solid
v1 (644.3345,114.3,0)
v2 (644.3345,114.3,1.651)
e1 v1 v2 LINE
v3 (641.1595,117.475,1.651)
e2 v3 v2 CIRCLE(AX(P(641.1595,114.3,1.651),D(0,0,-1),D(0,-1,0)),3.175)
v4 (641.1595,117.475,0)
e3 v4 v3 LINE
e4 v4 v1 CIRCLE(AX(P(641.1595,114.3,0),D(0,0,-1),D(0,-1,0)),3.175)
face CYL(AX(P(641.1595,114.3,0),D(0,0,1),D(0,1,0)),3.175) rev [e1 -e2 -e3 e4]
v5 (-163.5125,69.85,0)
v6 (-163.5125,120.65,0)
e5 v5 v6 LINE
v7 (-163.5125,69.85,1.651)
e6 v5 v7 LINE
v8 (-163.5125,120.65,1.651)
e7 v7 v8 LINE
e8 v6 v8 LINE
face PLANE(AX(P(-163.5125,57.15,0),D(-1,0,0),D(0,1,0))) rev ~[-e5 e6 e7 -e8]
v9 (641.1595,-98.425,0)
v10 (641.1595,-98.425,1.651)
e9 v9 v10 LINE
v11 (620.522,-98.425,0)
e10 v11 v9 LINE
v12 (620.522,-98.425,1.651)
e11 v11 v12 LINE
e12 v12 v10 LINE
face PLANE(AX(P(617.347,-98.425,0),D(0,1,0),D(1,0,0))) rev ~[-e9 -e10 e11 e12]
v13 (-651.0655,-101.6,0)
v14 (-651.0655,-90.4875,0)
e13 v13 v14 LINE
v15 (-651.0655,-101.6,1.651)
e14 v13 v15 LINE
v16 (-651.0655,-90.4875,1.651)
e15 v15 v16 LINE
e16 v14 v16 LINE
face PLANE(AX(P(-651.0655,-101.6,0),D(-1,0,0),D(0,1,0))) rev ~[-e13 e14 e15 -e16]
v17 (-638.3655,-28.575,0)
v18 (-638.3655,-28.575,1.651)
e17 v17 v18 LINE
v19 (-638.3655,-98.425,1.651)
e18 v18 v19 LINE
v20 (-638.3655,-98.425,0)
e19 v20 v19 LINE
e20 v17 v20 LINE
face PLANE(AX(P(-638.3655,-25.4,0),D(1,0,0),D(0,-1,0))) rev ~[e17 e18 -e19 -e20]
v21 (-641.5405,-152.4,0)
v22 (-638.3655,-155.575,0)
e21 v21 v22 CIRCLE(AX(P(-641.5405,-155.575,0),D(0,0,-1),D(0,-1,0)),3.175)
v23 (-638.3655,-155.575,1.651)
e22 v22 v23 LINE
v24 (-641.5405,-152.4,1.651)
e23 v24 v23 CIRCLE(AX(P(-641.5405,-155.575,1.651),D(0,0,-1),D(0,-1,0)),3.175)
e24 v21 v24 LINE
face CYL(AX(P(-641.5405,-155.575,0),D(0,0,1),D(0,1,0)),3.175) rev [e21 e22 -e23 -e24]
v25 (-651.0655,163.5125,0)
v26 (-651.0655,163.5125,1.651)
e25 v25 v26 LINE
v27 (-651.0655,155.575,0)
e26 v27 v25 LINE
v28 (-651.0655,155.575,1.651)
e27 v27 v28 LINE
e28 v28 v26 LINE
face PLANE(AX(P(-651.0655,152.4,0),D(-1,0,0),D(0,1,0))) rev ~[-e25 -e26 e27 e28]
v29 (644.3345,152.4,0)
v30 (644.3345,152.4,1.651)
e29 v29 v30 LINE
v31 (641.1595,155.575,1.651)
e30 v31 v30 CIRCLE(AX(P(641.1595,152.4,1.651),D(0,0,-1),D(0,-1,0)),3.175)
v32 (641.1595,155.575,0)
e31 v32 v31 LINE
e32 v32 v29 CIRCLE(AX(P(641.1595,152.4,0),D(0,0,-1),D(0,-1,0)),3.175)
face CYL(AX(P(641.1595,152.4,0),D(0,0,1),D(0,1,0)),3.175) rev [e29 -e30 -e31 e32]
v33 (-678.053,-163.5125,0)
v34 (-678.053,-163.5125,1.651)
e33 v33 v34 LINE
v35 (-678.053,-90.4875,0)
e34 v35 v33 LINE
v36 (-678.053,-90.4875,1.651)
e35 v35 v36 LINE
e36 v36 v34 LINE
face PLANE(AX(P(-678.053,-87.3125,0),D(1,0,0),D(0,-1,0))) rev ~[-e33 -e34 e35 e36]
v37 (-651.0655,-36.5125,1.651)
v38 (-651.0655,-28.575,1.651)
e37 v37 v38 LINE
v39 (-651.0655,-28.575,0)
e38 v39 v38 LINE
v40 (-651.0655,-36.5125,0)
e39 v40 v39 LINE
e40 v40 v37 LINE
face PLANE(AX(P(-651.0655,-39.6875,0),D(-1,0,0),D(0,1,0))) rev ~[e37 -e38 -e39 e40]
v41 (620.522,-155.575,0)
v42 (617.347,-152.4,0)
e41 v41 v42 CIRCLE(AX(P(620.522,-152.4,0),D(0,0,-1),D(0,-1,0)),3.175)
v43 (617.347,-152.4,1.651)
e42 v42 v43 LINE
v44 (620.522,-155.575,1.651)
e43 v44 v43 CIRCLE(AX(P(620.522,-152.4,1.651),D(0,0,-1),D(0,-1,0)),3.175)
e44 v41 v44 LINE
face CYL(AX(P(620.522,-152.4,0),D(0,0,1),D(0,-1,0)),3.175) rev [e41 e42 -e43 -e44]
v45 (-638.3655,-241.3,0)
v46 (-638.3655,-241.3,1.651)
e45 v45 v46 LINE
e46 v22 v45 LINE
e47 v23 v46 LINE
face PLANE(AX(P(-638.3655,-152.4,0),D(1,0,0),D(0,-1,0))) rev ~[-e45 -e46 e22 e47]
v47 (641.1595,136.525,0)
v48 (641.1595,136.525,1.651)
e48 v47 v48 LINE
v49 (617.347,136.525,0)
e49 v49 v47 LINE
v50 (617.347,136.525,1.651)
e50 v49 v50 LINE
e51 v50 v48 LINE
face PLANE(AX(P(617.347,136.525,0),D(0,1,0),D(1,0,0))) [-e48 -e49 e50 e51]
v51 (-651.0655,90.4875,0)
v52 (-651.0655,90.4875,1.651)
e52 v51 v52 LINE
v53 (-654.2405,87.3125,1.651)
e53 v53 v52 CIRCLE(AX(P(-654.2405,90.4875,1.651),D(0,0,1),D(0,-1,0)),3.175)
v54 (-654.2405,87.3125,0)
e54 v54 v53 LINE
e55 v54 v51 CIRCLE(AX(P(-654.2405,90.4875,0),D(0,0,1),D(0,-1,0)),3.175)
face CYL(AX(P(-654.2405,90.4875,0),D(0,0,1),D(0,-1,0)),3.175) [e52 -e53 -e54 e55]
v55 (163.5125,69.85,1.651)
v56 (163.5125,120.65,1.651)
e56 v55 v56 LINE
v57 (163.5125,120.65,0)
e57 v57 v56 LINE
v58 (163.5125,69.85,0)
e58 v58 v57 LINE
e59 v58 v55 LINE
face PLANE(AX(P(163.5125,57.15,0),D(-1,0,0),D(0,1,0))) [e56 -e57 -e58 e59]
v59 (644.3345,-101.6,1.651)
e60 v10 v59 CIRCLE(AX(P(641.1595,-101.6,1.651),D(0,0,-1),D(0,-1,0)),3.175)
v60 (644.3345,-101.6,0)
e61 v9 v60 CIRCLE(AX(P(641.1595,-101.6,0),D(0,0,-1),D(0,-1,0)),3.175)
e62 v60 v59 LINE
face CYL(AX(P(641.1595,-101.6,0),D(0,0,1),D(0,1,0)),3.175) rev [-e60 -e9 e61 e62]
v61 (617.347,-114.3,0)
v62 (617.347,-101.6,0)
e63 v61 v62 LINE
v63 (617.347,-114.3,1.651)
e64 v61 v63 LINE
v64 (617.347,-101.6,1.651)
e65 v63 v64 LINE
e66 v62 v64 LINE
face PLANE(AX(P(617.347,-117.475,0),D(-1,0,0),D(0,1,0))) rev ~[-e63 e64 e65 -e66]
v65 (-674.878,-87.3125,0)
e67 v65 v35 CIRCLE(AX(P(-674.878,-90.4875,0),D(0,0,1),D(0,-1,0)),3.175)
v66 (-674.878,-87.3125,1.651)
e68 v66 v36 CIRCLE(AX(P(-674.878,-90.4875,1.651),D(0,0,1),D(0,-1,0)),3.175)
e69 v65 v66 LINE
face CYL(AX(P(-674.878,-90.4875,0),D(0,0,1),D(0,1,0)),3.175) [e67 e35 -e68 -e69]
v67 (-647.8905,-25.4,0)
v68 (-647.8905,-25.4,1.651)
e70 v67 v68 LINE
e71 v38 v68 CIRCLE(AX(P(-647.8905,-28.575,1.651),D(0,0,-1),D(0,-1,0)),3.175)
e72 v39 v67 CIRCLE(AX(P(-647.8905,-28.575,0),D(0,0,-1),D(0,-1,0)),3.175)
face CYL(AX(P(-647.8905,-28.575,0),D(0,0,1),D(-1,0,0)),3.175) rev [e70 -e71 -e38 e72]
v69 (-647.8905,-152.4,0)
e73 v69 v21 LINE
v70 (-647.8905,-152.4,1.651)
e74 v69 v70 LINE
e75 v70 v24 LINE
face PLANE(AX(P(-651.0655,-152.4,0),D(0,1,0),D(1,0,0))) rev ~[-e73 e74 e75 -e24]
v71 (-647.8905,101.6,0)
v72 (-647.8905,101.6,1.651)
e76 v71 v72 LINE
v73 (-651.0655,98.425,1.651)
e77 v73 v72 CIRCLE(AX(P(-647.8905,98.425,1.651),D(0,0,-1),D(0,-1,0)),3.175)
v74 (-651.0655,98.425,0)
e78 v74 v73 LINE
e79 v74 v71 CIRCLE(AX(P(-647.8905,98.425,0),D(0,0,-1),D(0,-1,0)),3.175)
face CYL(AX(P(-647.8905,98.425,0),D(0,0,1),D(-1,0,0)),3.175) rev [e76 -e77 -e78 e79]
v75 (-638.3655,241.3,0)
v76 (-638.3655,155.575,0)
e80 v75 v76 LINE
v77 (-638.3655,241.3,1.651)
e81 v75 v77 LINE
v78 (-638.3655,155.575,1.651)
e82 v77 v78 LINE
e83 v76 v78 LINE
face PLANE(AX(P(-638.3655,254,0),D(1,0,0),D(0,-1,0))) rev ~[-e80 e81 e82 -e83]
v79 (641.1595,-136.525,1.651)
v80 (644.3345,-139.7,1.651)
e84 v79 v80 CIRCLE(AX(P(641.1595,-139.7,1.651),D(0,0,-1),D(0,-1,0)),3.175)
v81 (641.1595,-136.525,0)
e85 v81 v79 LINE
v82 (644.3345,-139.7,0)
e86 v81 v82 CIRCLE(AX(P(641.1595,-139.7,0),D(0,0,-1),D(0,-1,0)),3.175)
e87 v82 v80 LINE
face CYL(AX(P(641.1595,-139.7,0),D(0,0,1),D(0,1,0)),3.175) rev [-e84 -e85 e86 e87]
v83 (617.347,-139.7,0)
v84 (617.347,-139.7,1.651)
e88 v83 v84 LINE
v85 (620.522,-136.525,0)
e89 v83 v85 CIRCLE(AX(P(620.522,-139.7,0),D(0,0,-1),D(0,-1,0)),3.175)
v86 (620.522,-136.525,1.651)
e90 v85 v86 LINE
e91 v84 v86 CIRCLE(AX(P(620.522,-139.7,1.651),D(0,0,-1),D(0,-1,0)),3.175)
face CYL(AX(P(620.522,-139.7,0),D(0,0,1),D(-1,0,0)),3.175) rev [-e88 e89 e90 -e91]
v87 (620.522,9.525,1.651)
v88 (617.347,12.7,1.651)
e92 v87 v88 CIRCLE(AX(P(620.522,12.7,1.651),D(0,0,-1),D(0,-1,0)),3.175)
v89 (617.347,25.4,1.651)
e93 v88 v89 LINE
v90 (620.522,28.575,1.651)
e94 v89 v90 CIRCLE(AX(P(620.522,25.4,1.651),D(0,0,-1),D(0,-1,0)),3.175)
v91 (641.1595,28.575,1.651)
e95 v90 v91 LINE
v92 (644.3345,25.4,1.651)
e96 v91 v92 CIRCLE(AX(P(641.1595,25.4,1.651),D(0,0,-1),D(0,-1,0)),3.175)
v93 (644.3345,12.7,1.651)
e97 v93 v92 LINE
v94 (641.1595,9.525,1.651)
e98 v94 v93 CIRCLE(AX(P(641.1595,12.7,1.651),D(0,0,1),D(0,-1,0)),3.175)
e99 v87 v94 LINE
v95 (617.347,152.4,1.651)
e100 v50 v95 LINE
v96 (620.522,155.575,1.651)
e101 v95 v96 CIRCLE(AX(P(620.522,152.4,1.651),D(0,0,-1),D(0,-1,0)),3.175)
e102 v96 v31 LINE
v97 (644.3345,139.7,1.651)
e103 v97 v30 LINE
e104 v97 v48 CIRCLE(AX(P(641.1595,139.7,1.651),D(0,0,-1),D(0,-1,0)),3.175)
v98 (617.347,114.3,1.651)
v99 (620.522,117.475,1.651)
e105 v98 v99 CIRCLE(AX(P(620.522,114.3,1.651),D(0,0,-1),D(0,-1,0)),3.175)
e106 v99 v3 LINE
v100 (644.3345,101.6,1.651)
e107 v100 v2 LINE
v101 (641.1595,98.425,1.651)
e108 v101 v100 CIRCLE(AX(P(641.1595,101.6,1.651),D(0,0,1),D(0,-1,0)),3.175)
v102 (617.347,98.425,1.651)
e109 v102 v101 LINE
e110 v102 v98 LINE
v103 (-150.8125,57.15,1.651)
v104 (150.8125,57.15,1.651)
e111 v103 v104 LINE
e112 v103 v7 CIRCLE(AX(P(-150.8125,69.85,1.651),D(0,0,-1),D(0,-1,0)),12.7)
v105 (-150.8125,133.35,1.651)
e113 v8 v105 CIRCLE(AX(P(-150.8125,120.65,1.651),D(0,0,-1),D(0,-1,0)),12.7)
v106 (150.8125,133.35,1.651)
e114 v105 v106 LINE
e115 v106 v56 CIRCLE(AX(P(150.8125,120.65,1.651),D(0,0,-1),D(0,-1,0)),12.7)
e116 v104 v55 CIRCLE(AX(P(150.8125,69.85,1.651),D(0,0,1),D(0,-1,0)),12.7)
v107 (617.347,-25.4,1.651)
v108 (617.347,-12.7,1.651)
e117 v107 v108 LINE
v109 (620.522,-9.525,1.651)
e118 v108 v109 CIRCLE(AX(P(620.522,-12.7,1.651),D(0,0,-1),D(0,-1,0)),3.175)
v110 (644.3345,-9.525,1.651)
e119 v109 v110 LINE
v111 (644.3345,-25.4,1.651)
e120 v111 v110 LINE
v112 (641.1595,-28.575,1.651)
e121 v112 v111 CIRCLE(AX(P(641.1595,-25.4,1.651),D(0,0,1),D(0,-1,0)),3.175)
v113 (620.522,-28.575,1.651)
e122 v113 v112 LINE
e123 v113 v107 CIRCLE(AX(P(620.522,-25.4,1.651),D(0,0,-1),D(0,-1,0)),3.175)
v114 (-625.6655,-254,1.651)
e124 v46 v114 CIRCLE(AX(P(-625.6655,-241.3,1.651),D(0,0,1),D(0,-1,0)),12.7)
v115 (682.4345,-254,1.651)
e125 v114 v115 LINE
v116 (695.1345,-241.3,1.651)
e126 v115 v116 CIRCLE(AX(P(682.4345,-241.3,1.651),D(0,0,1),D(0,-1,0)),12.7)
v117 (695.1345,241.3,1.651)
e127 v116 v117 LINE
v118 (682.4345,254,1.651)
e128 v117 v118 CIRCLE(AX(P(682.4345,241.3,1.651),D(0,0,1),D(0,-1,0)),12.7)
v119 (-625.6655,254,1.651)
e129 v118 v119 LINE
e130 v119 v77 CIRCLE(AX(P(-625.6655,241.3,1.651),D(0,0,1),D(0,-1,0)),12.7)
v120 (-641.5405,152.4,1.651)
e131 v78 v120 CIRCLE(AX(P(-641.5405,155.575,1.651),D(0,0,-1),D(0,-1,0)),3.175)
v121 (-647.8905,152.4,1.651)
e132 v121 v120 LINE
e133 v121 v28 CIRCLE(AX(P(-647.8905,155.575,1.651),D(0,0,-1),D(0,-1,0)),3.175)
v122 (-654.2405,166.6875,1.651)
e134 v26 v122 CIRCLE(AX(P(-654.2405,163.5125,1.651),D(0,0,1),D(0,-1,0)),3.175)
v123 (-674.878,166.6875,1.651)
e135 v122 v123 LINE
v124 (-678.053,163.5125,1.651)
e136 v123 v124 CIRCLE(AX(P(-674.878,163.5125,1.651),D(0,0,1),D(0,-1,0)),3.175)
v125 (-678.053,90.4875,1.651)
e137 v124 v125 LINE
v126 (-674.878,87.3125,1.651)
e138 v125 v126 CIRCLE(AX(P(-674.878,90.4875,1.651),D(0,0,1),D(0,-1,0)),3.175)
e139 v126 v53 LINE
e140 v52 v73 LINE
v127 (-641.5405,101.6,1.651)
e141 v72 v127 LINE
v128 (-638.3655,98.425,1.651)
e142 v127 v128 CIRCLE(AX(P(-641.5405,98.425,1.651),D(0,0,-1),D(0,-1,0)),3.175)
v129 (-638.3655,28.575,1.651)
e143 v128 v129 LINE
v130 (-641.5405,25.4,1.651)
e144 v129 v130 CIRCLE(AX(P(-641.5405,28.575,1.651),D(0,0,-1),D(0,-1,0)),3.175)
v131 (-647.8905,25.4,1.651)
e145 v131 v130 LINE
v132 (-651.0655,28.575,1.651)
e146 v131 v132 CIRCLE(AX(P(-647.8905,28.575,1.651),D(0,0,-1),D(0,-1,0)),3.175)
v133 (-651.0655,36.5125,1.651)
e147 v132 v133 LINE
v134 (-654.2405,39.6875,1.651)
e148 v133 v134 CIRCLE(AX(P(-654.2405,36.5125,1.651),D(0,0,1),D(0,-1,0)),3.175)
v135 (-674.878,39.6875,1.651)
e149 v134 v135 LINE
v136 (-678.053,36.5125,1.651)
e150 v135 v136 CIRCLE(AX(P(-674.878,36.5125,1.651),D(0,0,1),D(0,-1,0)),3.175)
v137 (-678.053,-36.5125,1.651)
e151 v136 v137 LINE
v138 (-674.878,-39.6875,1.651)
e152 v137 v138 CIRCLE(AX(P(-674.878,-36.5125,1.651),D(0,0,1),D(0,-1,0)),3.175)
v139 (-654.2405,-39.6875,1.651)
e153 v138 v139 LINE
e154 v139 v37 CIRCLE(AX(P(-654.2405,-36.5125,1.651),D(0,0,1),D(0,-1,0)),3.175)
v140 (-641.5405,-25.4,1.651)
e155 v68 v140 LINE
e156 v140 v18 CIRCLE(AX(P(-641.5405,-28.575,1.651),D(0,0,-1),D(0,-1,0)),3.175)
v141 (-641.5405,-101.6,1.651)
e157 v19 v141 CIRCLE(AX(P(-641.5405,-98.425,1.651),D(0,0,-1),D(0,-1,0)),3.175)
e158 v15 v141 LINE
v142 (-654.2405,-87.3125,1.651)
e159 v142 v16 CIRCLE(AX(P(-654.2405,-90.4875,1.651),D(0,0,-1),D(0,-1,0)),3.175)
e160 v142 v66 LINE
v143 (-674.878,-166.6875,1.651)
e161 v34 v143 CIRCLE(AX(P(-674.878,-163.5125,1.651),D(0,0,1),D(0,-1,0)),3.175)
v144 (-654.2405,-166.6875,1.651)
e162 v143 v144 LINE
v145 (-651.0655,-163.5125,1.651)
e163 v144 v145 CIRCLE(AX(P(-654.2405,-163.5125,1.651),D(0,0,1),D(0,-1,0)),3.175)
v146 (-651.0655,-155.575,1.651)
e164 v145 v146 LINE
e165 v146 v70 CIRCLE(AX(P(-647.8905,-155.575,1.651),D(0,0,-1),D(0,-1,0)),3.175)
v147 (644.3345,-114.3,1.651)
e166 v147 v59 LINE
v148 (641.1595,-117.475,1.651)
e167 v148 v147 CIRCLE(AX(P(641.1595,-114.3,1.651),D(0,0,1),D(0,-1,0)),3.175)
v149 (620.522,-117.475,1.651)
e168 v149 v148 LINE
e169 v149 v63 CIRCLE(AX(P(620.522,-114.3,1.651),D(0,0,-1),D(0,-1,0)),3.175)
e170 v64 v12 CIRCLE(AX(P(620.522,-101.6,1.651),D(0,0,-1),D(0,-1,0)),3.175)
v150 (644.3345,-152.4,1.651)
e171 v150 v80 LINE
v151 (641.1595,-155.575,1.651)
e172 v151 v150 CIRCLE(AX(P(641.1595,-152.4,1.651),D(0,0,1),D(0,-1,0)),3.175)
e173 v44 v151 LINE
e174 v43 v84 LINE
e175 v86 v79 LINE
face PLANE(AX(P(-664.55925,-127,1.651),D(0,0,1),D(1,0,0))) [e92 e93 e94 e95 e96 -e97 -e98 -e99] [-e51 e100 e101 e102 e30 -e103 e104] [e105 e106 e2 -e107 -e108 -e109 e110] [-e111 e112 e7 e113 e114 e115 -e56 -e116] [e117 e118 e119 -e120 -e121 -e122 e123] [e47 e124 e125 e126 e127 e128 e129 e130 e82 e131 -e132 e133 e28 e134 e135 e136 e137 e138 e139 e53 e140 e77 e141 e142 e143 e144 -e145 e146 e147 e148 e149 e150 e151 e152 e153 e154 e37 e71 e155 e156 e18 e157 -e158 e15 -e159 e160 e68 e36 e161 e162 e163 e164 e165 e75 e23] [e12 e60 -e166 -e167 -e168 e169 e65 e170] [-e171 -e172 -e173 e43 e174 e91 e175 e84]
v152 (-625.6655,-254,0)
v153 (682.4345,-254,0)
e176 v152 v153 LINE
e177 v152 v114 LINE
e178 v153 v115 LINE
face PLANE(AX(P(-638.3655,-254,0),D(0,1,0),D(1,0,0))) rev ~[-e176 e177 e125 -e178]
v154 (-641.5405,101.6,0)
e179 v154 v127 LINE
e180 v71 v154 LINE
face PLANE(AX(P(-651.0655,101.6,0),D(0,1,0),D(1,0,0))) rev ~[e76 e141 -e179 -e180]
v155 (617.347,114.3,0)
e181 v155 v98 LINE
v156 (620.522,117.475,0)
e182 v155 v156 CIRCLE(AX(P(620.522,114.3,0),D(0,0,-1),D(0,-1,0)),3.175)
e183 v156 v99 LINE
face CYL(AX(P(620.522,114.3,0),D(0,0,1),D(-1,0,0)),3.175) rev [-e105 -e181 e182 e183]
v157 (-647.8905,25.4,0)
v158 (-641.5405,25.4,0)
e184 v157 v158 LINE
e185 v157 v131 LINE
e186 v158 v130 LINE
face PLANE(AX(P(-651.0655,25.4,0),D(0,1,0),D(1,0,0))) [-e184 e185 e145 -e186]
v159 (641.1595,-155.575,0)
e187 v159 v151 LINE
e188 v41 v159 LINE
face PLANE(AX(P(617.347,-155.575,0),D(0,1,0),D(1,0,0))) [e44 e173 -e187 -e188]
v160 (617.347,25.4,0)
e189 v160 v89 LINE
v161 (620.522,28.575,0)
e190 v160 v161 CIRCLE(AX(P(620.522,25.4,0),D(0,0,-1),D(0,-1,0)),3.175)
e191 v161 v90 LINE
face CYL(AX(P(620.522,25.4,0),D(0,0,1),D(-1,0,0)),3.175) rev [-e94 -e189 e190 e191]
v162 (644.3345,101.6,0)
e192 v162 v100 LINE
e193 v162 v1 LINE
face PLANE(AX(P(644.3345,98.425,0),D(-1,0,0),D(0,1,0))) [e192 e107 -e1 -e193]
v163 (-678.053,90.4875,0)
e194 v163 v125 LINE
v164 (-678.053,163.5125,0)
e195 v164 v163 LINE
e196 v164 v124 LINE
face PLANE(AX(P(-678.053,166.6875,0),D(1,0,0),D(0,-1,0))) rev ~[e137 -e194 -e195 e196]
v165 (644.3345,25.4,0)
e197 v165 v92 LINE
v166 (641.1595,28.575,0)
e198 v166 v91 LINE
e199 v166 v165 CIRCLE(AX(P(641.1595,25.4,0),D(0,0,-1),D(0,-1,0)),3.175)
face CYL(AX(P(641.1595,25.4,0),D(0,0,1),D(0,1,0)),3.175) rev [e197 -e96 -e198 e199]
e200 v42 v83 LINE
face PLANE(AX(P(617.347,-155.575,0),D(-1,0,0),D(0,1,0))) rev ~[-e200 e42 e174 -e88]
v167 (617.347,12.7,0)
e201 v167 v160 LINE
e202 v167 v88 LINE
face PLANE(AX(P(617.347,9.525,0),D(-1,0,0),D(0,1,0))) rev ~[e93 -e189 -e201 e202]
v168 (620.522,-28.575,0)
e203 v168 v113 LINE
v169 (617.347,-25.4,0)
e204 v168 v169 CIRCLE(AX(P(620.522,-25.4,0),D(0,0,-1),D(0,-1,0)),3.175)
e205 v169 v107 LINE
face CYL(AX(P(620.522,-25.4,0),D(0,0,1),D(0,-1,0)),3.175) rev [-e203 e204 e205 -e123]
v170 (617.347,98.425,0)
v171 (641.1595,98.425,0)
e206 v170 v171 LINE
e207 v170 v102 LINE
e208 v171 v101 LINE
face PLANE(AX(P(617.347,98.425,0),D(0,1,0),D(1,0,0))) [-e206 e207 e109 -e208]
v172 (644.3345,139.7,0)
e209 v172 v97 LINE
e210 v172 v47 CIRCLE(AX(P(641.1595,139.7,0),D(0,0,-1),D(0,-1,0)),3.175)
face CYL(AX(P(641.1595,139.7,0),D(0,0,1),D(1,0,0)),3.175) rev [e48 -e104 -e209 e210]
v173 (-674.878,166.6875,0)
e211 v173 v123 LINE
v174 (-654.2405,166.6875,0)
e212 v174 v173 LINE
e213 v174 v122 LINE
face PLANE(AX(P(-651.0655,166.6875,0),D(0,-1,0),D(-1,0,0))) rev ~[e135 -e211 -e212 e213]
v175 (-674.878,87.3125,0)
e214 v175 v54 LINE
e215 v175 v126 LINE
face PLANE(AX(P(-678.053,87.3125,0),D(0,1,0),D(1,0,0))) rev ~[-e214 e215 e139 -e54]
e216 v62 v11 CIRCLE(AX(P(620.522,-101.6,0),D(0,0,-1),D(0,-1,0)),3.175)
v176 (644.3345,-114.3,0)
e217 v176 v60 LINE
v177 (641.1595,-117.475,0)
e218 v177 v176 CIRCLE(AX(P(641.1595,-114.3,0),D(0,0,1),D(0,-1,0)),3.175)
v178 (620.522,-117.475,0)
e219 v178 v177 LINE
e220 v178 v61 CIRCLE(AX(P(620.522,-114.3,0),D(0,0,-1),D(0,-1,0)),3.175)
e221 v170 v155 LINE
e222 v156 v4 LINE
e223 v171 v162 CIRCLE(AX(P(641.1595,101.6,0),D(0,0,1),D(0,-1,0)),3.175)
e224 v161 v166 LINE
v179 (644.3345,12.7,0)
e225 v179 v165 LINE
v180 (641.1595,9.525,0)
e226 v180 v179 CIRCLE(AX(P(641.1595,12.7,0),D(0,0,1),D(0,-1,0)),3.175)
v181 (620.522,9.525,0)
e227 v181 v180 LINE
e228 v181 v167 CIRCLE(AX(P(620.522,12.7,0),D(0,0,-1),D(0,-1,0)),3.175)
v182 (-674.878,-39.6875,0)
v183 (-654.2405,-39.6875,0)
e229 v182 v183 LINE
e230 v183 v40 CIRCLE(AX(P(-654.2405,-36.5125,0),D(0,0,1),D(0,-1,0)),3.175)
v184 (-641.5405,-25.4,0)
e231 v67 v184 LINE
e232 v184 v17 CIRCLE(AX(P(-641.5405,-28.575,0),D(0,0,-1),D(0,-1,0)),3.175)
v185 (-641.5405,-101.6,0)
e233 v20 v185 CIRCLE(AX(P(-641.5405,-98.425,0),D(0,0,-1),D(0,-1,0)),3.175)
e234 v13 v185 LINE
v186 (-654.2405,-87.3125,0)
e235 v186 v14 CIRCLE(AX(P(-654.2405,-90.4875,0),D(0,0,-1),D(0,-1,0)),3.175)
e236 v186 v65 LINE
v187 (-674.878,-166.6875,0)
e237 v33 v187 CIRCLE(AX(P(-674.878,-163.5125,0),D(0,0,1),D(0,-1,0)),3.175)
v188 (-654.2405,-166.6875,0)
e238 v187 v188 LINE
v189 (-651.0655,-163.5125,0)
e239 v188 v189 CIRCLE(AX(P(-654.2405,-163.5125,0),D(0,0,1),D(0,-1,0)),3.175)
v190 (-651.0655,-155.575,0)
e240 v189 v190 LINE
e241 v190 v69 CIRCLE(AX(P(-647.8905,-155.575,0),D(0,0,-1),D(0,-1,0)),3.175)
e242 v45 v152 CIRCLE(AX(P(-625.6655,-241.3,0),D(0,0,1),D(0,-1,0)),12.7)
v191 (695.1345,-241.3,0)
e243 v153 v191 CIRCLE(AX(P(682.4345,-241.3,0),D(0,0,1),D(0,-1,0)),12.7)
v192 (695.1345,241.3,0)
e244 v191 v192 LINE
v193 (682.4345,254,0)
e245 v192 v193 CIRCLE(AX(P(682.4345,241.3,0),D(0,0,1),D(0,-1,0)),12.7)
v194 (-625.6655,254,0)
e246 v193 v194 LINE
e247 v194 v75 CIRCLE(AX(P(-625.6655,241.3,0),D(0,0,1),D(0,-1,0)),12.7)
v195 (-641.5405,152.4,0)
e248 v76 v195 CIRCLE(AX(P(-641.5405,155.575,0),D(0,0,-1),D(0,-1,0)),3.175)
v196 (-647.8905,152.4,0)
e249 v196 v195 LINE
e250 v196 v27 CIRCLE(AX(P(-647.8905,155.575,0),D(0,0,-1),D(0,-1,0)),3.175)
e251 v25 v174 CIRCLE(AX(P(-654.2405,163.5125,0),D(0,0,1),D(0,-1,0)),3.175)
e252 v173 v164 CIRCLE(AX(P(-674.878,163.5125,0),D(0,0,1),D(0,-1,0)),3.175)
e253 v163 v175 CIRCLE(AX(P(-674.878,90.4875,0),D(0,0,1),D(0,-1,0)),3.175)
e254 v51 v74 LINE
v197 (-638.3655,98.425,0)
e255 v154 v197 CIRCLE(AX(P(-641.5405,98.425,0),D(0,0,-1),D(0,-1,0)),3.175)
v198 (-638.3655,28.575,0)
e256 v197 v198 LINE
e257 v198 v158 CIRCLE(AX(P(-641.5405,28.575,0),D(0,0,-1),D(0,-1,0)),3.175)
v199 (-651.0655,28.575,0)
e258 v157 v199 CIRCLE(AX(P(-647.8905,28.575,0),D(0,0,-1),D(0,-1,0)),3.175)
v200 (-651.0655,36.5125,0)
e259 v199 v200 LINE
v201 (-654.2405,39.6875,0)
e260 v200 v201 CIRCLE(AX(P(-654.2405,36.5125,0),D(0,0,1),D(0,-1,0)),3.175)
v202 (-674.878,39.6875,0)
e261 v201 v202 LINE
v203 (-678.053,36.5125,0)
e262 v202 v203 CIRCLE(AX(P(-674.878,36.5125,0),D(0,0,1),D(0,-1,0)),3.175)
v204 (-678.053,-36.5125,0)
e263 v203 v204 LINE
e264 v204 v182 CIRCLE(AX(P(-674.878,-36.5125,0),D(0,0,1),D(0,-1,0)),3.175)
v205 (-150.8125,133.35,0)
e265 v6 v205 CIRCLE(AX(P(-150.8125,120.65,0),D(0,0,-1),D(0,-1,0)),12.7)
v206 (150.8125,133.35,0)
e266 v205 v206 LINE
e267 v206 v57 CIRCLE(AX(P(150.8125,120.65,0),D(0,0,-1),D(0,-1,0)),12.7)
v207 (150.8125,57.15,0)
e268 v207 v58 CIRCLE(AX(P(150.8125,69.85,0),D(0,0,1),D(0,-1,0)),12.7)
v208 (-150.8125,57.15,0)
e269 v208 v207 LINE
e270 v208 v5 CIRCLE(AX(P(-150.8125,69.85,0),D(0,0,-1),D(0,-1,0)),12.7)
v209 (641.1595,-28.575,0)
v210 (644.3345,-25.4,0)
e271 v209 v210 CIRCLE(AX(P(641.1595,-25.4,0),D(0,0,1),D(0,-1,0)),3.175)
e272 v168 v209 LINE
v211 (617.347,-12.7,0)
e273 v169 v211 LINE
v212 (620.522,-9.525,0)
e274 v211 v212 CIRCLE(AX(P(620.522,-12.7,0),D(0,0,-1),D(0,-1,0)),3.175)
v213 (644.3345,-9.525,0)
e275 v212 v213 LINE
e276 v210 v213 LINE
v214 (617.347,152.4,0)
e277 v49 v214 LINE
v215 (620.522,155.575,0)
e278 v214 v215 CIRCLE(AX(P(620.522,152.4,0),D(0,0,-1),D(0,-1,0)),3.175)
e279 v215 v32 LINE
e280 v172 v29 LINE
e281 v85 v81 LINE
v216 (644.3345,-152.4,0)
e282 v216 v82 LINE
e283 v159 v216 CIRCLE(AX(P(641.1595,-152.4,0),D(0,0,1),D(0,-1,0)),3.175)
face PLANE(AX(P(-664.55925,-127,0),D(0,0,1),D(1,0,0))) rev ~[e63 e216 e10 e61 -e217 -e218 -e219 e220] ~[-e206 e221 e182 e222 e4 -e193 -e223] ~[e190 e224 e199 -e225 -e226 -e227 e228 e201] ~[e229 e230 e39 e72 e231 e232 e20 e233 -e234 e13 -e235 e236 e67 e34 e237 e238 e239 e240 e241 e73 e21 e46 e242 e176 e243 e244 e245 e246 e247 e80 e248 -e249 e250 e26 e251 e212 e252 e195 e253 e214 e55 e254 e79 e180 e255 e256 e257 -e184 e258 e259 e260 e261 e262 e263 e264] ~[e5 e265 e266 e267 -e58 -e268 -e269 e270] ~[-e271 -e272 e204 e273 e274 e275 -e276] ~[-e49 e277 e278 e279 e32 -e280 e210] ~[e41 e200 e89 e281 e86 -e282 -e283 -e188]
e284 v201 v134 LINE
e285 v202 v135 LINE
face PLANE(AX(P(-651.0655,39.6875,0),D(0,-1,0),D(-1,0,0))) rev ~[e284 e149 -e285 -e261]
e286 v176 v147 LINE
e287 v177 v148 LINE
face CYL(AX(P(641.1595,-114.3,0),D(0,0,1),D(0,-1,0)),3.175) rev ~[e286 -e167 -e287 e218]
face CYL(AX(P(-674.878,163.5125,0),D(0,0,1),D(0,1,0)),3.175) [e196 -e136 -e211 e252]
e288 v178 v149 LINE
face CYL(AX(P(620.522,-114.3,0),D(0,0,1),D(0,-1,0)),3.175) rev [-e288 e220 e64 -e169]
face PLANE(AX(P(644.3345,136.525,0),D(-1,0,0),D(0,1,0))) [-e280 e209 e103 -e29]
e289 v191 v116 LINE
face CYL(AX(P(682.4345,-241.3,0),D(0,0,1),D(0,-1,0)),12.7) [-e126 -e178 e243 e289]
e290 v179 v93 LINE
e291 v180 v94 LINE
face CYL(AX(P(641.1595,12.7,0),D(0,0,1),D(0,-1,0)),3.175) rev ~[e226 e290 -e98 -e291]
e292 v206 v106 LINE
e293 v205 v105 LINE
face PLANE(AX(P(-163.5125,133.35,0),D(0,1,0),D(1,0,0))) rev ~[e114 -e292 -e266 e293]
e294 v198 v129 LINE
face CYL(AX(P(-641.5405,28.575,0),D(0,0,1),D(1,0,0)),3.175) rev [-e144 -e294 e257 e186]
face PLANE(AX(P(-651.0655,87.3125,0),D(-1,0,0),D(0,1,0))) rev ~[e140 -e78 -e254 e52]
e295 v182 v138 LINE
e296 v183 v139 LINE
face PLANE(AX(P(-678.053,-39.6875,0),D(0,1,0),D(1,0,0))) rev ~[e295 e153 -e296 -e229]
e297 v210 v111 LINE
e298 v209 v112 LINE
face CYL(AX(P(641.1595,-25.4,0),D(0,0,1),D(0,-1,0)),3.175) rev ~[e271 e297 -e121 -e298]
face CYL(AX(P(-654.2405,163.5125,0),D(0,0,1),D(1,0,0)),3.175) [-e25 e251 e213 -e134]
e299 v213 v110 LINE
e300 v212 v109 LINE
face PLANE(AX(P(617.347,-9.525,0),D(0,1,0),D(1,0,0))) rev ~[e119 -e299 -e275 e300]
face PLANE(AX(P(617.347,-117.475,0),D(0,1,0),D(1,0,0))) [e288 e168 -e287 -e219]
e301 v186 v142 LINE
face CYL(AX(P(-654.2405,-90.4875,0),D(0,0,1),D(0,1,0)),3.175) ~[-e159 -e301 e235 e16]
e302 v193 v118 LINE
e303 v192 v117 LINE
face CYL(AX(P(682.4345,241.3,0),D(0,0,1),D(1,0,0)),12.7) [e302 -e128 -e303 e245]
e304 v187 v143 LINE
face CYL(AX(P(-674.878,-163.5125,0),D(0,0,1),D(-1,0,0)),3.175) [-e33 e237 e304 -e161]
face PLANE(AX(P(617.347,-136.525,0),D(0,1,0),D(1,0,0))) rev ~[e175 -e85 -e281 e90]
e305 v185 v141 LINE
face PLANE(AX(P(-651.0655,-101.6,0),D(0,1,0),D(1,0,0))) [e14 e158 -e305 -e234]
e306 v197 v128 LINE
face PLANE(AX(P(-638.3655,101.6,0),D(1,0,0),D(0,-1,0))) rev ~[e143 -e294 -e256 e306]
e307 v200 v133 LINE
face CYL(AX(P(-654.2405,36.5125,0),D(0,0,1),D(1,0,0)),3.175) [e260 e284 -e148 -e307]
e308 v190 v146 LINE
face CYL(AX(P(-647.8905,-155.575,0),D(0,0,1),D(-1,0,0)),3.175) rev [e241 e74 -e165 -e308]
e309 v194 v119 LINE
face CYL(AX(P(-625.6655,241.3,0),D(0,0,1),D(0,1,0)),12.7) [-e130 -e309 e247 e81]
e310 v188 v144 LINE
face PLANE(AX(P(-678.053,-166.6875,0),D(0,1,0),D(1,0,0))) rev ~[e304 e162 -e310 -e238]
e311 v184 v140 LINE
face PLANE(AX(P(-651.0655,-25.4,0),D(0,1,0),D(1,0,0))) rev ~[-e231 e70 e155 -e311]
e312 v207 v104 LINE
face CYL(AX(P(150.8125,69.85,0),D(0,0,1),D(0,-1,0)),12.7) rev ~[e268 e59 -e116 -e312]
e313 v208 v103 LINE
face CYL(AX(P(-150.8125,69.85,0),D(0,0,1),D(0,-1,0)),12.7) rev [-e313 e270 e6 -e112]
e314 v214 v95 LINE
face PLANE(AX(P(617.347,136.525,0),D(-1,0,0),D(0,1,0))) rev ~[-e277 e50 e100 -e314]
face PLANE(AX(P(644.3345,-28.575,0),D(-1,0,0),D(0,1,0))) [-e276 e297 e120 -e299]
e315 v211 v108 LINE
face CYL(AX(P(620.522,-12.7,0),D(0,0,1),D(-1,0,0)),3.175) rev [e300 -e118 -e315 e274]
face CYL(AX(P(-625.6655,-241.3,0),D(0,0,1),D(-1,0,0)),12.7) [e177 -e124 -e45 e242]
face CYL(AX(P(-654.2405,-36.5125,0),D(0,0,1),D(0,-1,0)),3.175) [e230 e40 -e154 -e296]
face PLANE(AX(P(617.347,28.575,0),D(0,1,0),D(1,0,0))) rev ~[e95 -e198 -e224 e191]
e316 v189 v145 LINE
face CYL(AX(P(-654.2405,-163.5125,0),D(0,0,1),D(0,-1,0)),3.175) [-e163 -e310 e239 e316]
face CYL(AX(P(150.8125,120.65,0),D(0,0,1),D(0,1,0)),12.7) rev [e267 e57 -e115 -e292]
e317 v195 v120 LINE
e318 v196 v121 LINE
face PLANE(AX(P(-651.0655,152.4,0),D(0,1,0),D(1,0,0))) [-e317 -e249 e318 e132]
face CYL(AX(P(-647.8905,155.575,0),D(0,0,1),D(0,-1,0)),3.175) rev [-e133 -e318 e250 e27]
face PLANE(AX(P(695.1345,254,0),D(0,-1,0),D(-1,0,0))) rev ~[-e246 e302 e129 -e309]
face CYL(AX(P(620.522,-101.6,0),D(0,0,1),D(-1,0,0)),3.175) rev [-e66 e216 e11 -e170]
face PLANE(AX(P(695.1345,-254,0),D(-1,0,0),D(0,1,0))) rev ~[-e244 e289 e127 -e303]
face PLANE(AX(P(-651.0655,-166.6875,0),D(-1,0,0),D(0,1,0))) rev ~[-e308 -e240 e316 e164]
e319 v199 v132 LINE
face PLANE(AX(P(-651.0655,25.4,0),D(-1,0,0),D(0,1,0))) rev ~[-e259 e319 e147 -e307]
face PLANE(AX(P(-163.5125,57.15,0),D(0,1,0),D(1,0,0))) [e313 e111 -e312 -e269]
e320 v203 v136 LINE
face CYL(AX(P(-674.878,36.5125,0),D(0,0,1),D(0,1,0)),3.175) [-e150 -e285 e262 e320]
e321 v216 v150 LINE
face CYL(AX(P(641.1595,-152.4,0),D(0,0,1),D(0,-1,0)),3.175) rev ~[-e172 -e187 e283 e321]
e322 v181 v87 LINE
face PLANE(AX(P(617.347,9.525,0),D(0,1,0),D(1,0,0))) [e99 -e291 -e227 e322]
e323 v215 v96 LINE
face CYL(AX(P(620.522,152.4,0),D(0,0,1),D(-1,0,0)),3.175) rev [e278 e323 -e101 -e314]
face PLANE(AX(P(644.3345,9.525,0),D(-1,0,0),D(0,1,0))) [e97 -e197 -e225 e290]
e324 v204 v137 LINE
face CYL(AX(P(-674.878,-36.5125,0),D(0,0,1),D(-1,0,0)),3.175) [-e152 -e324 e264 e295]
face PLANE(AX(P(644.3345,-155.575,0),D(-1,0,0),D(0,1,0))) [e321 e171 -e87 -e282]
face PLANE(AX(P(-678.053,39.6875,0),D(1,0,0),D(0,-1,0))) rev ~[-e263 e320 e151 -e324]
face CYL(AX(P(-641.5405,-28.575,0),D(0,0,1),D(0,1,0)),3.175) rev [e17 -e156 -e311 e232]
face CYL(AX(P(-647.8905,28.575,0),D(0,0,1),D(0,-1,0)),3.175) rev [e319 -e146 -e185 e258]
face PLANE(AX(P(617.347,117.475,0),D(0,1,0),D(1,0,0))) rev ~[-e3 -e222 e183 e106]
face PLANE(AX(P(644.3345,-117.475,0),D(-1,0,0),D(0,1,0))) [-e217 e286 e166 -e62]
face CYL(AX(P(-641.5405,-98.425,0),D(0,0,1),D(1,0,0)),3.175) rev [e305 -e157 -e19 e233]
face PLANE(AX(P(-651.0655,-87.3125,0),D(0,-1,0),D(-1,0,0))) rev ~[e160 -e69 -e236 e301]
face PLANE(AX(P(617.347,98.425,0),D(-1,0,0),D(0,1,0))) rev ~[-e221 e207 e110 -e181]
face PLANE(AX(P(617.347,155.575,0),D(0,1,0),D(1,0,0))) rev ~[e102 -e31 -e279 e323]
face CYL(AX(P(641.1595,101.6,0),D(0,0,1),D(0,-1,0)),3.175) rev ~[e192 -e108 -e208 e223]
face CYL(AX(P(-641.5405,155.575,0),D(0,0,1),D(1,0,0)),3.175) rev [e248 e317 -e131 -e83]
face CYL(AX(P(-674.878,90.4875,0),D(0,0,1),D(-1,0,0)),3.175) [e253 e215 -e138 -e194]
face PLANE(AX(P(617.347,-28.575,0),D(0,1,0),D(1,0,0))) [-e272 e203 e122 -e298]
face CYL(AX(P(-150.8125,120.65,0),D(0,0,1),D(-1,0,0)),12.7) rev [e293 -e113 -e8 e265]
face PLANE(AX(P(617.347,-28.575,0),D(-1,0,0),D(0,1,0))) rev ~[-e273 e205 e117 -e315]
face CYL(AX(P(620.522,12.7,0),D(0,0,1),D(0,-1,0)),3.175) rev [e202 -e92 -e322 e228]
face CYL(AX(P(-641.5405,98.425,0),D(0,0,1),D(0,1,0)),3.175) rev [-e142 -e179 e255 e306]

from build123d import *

# Parameters (mm, degrees)
F0_W     = 26.9875
F0_H     = 19.05
F0_W_2   = 327.025
F0_H_2   = 76.2
F0_W_3   = 12.7
F0_H_3   = 50.8
F1_DEPTH = 1.651
F2_R     = 12.7
F3_R     = 3.175
F4_R     = 12.7


with BuildPart() as f1:
    # F0 (on Top) → F1 (new body)
    with BuildSketch(Plane.XY):
        Polygon((-651.0655, -152.4), (-651.0655, -101.6), (-651.0655, -87.3125), (-678.053, -87.3125), (-678.053, -166.6875), (-651.0655, -166.6875), align=None)
        Polygon((638.3655, 254), (-638.3655, 254), (-638.3655, 152.4), (-638.3655, 101.6), (-638.3655, 25.4), (-638.3655, -25.4), (-638.3655, -101.6), (-638.3655, -152.4), (-638.3655, -254), (638.3655, -254), (695.1345, -254), (695.1345, 254), align=None)
        with Locations((630.84075, -146.05)):
            Rectangle(F0_W, F0_H, mode=Mode.SUBTRACT)
        with Locations((630.84075, -107.95)):
            Rectangle(F0_W, F0_H, mode=Mode.SUBTRACT)
        with Locations((630.84075, -19.05)):
            Rectangle(F0_W, F0_H, mode=Mode.SUBTRACT)
        with Locations((0, 95.25)):
            Rectangle(F0_W_2, F0_H_2, mode=Mode.SUBTRACT)
        with Locations((630.84075, 19.05)):
            Rectangle(F0_W, F0_H, mode=Mode.SUBTRACT)
        with Locations((630.84075, 107.95)):
            Rectangle(F0_W, F0_H, mode=Mode.SUBTRACT)
        with Locations((630.84075, 146.05)):
            Rectangle(F0_W, F0_H, mode=Mode.SUBTRACT)
        with Locations((-644.7155, -127)):
            Rectangle(F0_W_3, F0_H_3)
        Polygon((-651.0655, 101.6), (-651.0655, 152.4), (-651.0655, 166.6875), (-678.053, 166.6875), (-678.053, 87.3125), (-651.0655, 87.3125), align=None)
        with Locations((-644.7155, 0)):
            Rectangle(F0_W_3, F0_H_3)
        Polygon((-651.0655, -25.4), (-651.0655, 25.4), (-651.0655, 39.6875), (-678.053, 39.6875), (-678.053, -39.6875), (-651.0655, -39.6875), align=None)
        with Locations((-644.7155, 127)):
            Rectangle(F0_W_3, F0_H_3)
    extrude(amount=F1_DEPTH)

    # F2
    f2_edges = [f1.edges().sort_by_distance(p)[0] for p in [
        (-163.5125, 133.35, 0.8255),
        (163.5125, 133.35, 0.8255),
        (-163.5125, 57.15, 0.8255),
        (163.5125, 57.15, 0.8255),
    ]]
    fillet(f2_edges, radius=F2_R)

    # F3
    f3_edges = [f1.edges().sort_by_distance(p)[0] for p in [
        (-678.053, 166.6875, 0.8255),
        (-651.0655, 166.6875, 0.8255),
        (-638.3655, 152.4, 0.8255),
        (-651.0655, 152.4, 0.8255),
        (-651.0655, 87.3125, 0.8255),
        (-651.0655, 101.6, 0.8255),
        (-678.053, 87.3125, 0.8255),
        (-638.3655, 101.6, 0.8255),
        (-638.3655, -25.4, 0.8255),
        (-638.3655, 25.4, 0.8255),
        (-651.0655, 39.6875, 0.8255),
        (-651.0655, 25.4, 0.8255),
        (-678.053, 39.6875, 0.8255),
        (-678.053, -39.6875, 0.8255),
        (-651.0655, -39.6875, 0.8255),
        (-651.0655, -25.4, 0.8255),
        (-638.3655, -101.6, 0.8255),
        (-651.0655, -87.3125, 0.8255),
        (-678.053, -87.3125, 0.8255),
        (-678.053, -166.6875, 0.8255),
        (-651.0655, -166.6875, 0.8255),
        (-638.3655, -152.4, 0.8255),
        (-651.0655, -152.4, 0.8255),
        (617.347, 155.575, 0.8255),
        (617.347, 117.475, 0.8255),
        (617.347, 28.575, 0.8255),
        (617.347, -136.525, 0.8255),
        (617.347, -98.425, 0.8255),
        (617.347, -9.525, 0.8255),
        (617.347, 9.525, 0.8255),
        (617.347, -28.575, 0.8255),
        (617.347, -117.475, 0.8255),
        (617.347, -155.575, 0.8255),
        (644.3345, -155.575, 0.8255),
        (644.3345, -136.525, 0.8255),
        (644.3345, -98.425, 0.8255),
        (644.3345, 155.575, 0.8255),
        (644.3345, 117.475, 0.8255),
        (644.3345, 98.425, 0.8255),
        (644.3345, 9.525, 0.8255),
        (644.3345, 136.525, 0.8255),
        (644.3345, -28.575, 0.8255),
        (644.3345, 28.575, 0.8255),
        (644.3345, -117.475, 0.8255),
    ]]
    fillet(f3_edges, radius=F3_R)

    # F4
    f4_edges = [f1.edges().sort_by_distance(p)[0] for p in [
        (695.1345, 254, 0.8255),
        (695.1345, -254, 0.8255),
        (-638.3655, -254, 0.8255),
        (-638.3655, 254, 0.8255),
    ]]
    fillet(f4_edges, radius=F4_R)


solid = f1.part
